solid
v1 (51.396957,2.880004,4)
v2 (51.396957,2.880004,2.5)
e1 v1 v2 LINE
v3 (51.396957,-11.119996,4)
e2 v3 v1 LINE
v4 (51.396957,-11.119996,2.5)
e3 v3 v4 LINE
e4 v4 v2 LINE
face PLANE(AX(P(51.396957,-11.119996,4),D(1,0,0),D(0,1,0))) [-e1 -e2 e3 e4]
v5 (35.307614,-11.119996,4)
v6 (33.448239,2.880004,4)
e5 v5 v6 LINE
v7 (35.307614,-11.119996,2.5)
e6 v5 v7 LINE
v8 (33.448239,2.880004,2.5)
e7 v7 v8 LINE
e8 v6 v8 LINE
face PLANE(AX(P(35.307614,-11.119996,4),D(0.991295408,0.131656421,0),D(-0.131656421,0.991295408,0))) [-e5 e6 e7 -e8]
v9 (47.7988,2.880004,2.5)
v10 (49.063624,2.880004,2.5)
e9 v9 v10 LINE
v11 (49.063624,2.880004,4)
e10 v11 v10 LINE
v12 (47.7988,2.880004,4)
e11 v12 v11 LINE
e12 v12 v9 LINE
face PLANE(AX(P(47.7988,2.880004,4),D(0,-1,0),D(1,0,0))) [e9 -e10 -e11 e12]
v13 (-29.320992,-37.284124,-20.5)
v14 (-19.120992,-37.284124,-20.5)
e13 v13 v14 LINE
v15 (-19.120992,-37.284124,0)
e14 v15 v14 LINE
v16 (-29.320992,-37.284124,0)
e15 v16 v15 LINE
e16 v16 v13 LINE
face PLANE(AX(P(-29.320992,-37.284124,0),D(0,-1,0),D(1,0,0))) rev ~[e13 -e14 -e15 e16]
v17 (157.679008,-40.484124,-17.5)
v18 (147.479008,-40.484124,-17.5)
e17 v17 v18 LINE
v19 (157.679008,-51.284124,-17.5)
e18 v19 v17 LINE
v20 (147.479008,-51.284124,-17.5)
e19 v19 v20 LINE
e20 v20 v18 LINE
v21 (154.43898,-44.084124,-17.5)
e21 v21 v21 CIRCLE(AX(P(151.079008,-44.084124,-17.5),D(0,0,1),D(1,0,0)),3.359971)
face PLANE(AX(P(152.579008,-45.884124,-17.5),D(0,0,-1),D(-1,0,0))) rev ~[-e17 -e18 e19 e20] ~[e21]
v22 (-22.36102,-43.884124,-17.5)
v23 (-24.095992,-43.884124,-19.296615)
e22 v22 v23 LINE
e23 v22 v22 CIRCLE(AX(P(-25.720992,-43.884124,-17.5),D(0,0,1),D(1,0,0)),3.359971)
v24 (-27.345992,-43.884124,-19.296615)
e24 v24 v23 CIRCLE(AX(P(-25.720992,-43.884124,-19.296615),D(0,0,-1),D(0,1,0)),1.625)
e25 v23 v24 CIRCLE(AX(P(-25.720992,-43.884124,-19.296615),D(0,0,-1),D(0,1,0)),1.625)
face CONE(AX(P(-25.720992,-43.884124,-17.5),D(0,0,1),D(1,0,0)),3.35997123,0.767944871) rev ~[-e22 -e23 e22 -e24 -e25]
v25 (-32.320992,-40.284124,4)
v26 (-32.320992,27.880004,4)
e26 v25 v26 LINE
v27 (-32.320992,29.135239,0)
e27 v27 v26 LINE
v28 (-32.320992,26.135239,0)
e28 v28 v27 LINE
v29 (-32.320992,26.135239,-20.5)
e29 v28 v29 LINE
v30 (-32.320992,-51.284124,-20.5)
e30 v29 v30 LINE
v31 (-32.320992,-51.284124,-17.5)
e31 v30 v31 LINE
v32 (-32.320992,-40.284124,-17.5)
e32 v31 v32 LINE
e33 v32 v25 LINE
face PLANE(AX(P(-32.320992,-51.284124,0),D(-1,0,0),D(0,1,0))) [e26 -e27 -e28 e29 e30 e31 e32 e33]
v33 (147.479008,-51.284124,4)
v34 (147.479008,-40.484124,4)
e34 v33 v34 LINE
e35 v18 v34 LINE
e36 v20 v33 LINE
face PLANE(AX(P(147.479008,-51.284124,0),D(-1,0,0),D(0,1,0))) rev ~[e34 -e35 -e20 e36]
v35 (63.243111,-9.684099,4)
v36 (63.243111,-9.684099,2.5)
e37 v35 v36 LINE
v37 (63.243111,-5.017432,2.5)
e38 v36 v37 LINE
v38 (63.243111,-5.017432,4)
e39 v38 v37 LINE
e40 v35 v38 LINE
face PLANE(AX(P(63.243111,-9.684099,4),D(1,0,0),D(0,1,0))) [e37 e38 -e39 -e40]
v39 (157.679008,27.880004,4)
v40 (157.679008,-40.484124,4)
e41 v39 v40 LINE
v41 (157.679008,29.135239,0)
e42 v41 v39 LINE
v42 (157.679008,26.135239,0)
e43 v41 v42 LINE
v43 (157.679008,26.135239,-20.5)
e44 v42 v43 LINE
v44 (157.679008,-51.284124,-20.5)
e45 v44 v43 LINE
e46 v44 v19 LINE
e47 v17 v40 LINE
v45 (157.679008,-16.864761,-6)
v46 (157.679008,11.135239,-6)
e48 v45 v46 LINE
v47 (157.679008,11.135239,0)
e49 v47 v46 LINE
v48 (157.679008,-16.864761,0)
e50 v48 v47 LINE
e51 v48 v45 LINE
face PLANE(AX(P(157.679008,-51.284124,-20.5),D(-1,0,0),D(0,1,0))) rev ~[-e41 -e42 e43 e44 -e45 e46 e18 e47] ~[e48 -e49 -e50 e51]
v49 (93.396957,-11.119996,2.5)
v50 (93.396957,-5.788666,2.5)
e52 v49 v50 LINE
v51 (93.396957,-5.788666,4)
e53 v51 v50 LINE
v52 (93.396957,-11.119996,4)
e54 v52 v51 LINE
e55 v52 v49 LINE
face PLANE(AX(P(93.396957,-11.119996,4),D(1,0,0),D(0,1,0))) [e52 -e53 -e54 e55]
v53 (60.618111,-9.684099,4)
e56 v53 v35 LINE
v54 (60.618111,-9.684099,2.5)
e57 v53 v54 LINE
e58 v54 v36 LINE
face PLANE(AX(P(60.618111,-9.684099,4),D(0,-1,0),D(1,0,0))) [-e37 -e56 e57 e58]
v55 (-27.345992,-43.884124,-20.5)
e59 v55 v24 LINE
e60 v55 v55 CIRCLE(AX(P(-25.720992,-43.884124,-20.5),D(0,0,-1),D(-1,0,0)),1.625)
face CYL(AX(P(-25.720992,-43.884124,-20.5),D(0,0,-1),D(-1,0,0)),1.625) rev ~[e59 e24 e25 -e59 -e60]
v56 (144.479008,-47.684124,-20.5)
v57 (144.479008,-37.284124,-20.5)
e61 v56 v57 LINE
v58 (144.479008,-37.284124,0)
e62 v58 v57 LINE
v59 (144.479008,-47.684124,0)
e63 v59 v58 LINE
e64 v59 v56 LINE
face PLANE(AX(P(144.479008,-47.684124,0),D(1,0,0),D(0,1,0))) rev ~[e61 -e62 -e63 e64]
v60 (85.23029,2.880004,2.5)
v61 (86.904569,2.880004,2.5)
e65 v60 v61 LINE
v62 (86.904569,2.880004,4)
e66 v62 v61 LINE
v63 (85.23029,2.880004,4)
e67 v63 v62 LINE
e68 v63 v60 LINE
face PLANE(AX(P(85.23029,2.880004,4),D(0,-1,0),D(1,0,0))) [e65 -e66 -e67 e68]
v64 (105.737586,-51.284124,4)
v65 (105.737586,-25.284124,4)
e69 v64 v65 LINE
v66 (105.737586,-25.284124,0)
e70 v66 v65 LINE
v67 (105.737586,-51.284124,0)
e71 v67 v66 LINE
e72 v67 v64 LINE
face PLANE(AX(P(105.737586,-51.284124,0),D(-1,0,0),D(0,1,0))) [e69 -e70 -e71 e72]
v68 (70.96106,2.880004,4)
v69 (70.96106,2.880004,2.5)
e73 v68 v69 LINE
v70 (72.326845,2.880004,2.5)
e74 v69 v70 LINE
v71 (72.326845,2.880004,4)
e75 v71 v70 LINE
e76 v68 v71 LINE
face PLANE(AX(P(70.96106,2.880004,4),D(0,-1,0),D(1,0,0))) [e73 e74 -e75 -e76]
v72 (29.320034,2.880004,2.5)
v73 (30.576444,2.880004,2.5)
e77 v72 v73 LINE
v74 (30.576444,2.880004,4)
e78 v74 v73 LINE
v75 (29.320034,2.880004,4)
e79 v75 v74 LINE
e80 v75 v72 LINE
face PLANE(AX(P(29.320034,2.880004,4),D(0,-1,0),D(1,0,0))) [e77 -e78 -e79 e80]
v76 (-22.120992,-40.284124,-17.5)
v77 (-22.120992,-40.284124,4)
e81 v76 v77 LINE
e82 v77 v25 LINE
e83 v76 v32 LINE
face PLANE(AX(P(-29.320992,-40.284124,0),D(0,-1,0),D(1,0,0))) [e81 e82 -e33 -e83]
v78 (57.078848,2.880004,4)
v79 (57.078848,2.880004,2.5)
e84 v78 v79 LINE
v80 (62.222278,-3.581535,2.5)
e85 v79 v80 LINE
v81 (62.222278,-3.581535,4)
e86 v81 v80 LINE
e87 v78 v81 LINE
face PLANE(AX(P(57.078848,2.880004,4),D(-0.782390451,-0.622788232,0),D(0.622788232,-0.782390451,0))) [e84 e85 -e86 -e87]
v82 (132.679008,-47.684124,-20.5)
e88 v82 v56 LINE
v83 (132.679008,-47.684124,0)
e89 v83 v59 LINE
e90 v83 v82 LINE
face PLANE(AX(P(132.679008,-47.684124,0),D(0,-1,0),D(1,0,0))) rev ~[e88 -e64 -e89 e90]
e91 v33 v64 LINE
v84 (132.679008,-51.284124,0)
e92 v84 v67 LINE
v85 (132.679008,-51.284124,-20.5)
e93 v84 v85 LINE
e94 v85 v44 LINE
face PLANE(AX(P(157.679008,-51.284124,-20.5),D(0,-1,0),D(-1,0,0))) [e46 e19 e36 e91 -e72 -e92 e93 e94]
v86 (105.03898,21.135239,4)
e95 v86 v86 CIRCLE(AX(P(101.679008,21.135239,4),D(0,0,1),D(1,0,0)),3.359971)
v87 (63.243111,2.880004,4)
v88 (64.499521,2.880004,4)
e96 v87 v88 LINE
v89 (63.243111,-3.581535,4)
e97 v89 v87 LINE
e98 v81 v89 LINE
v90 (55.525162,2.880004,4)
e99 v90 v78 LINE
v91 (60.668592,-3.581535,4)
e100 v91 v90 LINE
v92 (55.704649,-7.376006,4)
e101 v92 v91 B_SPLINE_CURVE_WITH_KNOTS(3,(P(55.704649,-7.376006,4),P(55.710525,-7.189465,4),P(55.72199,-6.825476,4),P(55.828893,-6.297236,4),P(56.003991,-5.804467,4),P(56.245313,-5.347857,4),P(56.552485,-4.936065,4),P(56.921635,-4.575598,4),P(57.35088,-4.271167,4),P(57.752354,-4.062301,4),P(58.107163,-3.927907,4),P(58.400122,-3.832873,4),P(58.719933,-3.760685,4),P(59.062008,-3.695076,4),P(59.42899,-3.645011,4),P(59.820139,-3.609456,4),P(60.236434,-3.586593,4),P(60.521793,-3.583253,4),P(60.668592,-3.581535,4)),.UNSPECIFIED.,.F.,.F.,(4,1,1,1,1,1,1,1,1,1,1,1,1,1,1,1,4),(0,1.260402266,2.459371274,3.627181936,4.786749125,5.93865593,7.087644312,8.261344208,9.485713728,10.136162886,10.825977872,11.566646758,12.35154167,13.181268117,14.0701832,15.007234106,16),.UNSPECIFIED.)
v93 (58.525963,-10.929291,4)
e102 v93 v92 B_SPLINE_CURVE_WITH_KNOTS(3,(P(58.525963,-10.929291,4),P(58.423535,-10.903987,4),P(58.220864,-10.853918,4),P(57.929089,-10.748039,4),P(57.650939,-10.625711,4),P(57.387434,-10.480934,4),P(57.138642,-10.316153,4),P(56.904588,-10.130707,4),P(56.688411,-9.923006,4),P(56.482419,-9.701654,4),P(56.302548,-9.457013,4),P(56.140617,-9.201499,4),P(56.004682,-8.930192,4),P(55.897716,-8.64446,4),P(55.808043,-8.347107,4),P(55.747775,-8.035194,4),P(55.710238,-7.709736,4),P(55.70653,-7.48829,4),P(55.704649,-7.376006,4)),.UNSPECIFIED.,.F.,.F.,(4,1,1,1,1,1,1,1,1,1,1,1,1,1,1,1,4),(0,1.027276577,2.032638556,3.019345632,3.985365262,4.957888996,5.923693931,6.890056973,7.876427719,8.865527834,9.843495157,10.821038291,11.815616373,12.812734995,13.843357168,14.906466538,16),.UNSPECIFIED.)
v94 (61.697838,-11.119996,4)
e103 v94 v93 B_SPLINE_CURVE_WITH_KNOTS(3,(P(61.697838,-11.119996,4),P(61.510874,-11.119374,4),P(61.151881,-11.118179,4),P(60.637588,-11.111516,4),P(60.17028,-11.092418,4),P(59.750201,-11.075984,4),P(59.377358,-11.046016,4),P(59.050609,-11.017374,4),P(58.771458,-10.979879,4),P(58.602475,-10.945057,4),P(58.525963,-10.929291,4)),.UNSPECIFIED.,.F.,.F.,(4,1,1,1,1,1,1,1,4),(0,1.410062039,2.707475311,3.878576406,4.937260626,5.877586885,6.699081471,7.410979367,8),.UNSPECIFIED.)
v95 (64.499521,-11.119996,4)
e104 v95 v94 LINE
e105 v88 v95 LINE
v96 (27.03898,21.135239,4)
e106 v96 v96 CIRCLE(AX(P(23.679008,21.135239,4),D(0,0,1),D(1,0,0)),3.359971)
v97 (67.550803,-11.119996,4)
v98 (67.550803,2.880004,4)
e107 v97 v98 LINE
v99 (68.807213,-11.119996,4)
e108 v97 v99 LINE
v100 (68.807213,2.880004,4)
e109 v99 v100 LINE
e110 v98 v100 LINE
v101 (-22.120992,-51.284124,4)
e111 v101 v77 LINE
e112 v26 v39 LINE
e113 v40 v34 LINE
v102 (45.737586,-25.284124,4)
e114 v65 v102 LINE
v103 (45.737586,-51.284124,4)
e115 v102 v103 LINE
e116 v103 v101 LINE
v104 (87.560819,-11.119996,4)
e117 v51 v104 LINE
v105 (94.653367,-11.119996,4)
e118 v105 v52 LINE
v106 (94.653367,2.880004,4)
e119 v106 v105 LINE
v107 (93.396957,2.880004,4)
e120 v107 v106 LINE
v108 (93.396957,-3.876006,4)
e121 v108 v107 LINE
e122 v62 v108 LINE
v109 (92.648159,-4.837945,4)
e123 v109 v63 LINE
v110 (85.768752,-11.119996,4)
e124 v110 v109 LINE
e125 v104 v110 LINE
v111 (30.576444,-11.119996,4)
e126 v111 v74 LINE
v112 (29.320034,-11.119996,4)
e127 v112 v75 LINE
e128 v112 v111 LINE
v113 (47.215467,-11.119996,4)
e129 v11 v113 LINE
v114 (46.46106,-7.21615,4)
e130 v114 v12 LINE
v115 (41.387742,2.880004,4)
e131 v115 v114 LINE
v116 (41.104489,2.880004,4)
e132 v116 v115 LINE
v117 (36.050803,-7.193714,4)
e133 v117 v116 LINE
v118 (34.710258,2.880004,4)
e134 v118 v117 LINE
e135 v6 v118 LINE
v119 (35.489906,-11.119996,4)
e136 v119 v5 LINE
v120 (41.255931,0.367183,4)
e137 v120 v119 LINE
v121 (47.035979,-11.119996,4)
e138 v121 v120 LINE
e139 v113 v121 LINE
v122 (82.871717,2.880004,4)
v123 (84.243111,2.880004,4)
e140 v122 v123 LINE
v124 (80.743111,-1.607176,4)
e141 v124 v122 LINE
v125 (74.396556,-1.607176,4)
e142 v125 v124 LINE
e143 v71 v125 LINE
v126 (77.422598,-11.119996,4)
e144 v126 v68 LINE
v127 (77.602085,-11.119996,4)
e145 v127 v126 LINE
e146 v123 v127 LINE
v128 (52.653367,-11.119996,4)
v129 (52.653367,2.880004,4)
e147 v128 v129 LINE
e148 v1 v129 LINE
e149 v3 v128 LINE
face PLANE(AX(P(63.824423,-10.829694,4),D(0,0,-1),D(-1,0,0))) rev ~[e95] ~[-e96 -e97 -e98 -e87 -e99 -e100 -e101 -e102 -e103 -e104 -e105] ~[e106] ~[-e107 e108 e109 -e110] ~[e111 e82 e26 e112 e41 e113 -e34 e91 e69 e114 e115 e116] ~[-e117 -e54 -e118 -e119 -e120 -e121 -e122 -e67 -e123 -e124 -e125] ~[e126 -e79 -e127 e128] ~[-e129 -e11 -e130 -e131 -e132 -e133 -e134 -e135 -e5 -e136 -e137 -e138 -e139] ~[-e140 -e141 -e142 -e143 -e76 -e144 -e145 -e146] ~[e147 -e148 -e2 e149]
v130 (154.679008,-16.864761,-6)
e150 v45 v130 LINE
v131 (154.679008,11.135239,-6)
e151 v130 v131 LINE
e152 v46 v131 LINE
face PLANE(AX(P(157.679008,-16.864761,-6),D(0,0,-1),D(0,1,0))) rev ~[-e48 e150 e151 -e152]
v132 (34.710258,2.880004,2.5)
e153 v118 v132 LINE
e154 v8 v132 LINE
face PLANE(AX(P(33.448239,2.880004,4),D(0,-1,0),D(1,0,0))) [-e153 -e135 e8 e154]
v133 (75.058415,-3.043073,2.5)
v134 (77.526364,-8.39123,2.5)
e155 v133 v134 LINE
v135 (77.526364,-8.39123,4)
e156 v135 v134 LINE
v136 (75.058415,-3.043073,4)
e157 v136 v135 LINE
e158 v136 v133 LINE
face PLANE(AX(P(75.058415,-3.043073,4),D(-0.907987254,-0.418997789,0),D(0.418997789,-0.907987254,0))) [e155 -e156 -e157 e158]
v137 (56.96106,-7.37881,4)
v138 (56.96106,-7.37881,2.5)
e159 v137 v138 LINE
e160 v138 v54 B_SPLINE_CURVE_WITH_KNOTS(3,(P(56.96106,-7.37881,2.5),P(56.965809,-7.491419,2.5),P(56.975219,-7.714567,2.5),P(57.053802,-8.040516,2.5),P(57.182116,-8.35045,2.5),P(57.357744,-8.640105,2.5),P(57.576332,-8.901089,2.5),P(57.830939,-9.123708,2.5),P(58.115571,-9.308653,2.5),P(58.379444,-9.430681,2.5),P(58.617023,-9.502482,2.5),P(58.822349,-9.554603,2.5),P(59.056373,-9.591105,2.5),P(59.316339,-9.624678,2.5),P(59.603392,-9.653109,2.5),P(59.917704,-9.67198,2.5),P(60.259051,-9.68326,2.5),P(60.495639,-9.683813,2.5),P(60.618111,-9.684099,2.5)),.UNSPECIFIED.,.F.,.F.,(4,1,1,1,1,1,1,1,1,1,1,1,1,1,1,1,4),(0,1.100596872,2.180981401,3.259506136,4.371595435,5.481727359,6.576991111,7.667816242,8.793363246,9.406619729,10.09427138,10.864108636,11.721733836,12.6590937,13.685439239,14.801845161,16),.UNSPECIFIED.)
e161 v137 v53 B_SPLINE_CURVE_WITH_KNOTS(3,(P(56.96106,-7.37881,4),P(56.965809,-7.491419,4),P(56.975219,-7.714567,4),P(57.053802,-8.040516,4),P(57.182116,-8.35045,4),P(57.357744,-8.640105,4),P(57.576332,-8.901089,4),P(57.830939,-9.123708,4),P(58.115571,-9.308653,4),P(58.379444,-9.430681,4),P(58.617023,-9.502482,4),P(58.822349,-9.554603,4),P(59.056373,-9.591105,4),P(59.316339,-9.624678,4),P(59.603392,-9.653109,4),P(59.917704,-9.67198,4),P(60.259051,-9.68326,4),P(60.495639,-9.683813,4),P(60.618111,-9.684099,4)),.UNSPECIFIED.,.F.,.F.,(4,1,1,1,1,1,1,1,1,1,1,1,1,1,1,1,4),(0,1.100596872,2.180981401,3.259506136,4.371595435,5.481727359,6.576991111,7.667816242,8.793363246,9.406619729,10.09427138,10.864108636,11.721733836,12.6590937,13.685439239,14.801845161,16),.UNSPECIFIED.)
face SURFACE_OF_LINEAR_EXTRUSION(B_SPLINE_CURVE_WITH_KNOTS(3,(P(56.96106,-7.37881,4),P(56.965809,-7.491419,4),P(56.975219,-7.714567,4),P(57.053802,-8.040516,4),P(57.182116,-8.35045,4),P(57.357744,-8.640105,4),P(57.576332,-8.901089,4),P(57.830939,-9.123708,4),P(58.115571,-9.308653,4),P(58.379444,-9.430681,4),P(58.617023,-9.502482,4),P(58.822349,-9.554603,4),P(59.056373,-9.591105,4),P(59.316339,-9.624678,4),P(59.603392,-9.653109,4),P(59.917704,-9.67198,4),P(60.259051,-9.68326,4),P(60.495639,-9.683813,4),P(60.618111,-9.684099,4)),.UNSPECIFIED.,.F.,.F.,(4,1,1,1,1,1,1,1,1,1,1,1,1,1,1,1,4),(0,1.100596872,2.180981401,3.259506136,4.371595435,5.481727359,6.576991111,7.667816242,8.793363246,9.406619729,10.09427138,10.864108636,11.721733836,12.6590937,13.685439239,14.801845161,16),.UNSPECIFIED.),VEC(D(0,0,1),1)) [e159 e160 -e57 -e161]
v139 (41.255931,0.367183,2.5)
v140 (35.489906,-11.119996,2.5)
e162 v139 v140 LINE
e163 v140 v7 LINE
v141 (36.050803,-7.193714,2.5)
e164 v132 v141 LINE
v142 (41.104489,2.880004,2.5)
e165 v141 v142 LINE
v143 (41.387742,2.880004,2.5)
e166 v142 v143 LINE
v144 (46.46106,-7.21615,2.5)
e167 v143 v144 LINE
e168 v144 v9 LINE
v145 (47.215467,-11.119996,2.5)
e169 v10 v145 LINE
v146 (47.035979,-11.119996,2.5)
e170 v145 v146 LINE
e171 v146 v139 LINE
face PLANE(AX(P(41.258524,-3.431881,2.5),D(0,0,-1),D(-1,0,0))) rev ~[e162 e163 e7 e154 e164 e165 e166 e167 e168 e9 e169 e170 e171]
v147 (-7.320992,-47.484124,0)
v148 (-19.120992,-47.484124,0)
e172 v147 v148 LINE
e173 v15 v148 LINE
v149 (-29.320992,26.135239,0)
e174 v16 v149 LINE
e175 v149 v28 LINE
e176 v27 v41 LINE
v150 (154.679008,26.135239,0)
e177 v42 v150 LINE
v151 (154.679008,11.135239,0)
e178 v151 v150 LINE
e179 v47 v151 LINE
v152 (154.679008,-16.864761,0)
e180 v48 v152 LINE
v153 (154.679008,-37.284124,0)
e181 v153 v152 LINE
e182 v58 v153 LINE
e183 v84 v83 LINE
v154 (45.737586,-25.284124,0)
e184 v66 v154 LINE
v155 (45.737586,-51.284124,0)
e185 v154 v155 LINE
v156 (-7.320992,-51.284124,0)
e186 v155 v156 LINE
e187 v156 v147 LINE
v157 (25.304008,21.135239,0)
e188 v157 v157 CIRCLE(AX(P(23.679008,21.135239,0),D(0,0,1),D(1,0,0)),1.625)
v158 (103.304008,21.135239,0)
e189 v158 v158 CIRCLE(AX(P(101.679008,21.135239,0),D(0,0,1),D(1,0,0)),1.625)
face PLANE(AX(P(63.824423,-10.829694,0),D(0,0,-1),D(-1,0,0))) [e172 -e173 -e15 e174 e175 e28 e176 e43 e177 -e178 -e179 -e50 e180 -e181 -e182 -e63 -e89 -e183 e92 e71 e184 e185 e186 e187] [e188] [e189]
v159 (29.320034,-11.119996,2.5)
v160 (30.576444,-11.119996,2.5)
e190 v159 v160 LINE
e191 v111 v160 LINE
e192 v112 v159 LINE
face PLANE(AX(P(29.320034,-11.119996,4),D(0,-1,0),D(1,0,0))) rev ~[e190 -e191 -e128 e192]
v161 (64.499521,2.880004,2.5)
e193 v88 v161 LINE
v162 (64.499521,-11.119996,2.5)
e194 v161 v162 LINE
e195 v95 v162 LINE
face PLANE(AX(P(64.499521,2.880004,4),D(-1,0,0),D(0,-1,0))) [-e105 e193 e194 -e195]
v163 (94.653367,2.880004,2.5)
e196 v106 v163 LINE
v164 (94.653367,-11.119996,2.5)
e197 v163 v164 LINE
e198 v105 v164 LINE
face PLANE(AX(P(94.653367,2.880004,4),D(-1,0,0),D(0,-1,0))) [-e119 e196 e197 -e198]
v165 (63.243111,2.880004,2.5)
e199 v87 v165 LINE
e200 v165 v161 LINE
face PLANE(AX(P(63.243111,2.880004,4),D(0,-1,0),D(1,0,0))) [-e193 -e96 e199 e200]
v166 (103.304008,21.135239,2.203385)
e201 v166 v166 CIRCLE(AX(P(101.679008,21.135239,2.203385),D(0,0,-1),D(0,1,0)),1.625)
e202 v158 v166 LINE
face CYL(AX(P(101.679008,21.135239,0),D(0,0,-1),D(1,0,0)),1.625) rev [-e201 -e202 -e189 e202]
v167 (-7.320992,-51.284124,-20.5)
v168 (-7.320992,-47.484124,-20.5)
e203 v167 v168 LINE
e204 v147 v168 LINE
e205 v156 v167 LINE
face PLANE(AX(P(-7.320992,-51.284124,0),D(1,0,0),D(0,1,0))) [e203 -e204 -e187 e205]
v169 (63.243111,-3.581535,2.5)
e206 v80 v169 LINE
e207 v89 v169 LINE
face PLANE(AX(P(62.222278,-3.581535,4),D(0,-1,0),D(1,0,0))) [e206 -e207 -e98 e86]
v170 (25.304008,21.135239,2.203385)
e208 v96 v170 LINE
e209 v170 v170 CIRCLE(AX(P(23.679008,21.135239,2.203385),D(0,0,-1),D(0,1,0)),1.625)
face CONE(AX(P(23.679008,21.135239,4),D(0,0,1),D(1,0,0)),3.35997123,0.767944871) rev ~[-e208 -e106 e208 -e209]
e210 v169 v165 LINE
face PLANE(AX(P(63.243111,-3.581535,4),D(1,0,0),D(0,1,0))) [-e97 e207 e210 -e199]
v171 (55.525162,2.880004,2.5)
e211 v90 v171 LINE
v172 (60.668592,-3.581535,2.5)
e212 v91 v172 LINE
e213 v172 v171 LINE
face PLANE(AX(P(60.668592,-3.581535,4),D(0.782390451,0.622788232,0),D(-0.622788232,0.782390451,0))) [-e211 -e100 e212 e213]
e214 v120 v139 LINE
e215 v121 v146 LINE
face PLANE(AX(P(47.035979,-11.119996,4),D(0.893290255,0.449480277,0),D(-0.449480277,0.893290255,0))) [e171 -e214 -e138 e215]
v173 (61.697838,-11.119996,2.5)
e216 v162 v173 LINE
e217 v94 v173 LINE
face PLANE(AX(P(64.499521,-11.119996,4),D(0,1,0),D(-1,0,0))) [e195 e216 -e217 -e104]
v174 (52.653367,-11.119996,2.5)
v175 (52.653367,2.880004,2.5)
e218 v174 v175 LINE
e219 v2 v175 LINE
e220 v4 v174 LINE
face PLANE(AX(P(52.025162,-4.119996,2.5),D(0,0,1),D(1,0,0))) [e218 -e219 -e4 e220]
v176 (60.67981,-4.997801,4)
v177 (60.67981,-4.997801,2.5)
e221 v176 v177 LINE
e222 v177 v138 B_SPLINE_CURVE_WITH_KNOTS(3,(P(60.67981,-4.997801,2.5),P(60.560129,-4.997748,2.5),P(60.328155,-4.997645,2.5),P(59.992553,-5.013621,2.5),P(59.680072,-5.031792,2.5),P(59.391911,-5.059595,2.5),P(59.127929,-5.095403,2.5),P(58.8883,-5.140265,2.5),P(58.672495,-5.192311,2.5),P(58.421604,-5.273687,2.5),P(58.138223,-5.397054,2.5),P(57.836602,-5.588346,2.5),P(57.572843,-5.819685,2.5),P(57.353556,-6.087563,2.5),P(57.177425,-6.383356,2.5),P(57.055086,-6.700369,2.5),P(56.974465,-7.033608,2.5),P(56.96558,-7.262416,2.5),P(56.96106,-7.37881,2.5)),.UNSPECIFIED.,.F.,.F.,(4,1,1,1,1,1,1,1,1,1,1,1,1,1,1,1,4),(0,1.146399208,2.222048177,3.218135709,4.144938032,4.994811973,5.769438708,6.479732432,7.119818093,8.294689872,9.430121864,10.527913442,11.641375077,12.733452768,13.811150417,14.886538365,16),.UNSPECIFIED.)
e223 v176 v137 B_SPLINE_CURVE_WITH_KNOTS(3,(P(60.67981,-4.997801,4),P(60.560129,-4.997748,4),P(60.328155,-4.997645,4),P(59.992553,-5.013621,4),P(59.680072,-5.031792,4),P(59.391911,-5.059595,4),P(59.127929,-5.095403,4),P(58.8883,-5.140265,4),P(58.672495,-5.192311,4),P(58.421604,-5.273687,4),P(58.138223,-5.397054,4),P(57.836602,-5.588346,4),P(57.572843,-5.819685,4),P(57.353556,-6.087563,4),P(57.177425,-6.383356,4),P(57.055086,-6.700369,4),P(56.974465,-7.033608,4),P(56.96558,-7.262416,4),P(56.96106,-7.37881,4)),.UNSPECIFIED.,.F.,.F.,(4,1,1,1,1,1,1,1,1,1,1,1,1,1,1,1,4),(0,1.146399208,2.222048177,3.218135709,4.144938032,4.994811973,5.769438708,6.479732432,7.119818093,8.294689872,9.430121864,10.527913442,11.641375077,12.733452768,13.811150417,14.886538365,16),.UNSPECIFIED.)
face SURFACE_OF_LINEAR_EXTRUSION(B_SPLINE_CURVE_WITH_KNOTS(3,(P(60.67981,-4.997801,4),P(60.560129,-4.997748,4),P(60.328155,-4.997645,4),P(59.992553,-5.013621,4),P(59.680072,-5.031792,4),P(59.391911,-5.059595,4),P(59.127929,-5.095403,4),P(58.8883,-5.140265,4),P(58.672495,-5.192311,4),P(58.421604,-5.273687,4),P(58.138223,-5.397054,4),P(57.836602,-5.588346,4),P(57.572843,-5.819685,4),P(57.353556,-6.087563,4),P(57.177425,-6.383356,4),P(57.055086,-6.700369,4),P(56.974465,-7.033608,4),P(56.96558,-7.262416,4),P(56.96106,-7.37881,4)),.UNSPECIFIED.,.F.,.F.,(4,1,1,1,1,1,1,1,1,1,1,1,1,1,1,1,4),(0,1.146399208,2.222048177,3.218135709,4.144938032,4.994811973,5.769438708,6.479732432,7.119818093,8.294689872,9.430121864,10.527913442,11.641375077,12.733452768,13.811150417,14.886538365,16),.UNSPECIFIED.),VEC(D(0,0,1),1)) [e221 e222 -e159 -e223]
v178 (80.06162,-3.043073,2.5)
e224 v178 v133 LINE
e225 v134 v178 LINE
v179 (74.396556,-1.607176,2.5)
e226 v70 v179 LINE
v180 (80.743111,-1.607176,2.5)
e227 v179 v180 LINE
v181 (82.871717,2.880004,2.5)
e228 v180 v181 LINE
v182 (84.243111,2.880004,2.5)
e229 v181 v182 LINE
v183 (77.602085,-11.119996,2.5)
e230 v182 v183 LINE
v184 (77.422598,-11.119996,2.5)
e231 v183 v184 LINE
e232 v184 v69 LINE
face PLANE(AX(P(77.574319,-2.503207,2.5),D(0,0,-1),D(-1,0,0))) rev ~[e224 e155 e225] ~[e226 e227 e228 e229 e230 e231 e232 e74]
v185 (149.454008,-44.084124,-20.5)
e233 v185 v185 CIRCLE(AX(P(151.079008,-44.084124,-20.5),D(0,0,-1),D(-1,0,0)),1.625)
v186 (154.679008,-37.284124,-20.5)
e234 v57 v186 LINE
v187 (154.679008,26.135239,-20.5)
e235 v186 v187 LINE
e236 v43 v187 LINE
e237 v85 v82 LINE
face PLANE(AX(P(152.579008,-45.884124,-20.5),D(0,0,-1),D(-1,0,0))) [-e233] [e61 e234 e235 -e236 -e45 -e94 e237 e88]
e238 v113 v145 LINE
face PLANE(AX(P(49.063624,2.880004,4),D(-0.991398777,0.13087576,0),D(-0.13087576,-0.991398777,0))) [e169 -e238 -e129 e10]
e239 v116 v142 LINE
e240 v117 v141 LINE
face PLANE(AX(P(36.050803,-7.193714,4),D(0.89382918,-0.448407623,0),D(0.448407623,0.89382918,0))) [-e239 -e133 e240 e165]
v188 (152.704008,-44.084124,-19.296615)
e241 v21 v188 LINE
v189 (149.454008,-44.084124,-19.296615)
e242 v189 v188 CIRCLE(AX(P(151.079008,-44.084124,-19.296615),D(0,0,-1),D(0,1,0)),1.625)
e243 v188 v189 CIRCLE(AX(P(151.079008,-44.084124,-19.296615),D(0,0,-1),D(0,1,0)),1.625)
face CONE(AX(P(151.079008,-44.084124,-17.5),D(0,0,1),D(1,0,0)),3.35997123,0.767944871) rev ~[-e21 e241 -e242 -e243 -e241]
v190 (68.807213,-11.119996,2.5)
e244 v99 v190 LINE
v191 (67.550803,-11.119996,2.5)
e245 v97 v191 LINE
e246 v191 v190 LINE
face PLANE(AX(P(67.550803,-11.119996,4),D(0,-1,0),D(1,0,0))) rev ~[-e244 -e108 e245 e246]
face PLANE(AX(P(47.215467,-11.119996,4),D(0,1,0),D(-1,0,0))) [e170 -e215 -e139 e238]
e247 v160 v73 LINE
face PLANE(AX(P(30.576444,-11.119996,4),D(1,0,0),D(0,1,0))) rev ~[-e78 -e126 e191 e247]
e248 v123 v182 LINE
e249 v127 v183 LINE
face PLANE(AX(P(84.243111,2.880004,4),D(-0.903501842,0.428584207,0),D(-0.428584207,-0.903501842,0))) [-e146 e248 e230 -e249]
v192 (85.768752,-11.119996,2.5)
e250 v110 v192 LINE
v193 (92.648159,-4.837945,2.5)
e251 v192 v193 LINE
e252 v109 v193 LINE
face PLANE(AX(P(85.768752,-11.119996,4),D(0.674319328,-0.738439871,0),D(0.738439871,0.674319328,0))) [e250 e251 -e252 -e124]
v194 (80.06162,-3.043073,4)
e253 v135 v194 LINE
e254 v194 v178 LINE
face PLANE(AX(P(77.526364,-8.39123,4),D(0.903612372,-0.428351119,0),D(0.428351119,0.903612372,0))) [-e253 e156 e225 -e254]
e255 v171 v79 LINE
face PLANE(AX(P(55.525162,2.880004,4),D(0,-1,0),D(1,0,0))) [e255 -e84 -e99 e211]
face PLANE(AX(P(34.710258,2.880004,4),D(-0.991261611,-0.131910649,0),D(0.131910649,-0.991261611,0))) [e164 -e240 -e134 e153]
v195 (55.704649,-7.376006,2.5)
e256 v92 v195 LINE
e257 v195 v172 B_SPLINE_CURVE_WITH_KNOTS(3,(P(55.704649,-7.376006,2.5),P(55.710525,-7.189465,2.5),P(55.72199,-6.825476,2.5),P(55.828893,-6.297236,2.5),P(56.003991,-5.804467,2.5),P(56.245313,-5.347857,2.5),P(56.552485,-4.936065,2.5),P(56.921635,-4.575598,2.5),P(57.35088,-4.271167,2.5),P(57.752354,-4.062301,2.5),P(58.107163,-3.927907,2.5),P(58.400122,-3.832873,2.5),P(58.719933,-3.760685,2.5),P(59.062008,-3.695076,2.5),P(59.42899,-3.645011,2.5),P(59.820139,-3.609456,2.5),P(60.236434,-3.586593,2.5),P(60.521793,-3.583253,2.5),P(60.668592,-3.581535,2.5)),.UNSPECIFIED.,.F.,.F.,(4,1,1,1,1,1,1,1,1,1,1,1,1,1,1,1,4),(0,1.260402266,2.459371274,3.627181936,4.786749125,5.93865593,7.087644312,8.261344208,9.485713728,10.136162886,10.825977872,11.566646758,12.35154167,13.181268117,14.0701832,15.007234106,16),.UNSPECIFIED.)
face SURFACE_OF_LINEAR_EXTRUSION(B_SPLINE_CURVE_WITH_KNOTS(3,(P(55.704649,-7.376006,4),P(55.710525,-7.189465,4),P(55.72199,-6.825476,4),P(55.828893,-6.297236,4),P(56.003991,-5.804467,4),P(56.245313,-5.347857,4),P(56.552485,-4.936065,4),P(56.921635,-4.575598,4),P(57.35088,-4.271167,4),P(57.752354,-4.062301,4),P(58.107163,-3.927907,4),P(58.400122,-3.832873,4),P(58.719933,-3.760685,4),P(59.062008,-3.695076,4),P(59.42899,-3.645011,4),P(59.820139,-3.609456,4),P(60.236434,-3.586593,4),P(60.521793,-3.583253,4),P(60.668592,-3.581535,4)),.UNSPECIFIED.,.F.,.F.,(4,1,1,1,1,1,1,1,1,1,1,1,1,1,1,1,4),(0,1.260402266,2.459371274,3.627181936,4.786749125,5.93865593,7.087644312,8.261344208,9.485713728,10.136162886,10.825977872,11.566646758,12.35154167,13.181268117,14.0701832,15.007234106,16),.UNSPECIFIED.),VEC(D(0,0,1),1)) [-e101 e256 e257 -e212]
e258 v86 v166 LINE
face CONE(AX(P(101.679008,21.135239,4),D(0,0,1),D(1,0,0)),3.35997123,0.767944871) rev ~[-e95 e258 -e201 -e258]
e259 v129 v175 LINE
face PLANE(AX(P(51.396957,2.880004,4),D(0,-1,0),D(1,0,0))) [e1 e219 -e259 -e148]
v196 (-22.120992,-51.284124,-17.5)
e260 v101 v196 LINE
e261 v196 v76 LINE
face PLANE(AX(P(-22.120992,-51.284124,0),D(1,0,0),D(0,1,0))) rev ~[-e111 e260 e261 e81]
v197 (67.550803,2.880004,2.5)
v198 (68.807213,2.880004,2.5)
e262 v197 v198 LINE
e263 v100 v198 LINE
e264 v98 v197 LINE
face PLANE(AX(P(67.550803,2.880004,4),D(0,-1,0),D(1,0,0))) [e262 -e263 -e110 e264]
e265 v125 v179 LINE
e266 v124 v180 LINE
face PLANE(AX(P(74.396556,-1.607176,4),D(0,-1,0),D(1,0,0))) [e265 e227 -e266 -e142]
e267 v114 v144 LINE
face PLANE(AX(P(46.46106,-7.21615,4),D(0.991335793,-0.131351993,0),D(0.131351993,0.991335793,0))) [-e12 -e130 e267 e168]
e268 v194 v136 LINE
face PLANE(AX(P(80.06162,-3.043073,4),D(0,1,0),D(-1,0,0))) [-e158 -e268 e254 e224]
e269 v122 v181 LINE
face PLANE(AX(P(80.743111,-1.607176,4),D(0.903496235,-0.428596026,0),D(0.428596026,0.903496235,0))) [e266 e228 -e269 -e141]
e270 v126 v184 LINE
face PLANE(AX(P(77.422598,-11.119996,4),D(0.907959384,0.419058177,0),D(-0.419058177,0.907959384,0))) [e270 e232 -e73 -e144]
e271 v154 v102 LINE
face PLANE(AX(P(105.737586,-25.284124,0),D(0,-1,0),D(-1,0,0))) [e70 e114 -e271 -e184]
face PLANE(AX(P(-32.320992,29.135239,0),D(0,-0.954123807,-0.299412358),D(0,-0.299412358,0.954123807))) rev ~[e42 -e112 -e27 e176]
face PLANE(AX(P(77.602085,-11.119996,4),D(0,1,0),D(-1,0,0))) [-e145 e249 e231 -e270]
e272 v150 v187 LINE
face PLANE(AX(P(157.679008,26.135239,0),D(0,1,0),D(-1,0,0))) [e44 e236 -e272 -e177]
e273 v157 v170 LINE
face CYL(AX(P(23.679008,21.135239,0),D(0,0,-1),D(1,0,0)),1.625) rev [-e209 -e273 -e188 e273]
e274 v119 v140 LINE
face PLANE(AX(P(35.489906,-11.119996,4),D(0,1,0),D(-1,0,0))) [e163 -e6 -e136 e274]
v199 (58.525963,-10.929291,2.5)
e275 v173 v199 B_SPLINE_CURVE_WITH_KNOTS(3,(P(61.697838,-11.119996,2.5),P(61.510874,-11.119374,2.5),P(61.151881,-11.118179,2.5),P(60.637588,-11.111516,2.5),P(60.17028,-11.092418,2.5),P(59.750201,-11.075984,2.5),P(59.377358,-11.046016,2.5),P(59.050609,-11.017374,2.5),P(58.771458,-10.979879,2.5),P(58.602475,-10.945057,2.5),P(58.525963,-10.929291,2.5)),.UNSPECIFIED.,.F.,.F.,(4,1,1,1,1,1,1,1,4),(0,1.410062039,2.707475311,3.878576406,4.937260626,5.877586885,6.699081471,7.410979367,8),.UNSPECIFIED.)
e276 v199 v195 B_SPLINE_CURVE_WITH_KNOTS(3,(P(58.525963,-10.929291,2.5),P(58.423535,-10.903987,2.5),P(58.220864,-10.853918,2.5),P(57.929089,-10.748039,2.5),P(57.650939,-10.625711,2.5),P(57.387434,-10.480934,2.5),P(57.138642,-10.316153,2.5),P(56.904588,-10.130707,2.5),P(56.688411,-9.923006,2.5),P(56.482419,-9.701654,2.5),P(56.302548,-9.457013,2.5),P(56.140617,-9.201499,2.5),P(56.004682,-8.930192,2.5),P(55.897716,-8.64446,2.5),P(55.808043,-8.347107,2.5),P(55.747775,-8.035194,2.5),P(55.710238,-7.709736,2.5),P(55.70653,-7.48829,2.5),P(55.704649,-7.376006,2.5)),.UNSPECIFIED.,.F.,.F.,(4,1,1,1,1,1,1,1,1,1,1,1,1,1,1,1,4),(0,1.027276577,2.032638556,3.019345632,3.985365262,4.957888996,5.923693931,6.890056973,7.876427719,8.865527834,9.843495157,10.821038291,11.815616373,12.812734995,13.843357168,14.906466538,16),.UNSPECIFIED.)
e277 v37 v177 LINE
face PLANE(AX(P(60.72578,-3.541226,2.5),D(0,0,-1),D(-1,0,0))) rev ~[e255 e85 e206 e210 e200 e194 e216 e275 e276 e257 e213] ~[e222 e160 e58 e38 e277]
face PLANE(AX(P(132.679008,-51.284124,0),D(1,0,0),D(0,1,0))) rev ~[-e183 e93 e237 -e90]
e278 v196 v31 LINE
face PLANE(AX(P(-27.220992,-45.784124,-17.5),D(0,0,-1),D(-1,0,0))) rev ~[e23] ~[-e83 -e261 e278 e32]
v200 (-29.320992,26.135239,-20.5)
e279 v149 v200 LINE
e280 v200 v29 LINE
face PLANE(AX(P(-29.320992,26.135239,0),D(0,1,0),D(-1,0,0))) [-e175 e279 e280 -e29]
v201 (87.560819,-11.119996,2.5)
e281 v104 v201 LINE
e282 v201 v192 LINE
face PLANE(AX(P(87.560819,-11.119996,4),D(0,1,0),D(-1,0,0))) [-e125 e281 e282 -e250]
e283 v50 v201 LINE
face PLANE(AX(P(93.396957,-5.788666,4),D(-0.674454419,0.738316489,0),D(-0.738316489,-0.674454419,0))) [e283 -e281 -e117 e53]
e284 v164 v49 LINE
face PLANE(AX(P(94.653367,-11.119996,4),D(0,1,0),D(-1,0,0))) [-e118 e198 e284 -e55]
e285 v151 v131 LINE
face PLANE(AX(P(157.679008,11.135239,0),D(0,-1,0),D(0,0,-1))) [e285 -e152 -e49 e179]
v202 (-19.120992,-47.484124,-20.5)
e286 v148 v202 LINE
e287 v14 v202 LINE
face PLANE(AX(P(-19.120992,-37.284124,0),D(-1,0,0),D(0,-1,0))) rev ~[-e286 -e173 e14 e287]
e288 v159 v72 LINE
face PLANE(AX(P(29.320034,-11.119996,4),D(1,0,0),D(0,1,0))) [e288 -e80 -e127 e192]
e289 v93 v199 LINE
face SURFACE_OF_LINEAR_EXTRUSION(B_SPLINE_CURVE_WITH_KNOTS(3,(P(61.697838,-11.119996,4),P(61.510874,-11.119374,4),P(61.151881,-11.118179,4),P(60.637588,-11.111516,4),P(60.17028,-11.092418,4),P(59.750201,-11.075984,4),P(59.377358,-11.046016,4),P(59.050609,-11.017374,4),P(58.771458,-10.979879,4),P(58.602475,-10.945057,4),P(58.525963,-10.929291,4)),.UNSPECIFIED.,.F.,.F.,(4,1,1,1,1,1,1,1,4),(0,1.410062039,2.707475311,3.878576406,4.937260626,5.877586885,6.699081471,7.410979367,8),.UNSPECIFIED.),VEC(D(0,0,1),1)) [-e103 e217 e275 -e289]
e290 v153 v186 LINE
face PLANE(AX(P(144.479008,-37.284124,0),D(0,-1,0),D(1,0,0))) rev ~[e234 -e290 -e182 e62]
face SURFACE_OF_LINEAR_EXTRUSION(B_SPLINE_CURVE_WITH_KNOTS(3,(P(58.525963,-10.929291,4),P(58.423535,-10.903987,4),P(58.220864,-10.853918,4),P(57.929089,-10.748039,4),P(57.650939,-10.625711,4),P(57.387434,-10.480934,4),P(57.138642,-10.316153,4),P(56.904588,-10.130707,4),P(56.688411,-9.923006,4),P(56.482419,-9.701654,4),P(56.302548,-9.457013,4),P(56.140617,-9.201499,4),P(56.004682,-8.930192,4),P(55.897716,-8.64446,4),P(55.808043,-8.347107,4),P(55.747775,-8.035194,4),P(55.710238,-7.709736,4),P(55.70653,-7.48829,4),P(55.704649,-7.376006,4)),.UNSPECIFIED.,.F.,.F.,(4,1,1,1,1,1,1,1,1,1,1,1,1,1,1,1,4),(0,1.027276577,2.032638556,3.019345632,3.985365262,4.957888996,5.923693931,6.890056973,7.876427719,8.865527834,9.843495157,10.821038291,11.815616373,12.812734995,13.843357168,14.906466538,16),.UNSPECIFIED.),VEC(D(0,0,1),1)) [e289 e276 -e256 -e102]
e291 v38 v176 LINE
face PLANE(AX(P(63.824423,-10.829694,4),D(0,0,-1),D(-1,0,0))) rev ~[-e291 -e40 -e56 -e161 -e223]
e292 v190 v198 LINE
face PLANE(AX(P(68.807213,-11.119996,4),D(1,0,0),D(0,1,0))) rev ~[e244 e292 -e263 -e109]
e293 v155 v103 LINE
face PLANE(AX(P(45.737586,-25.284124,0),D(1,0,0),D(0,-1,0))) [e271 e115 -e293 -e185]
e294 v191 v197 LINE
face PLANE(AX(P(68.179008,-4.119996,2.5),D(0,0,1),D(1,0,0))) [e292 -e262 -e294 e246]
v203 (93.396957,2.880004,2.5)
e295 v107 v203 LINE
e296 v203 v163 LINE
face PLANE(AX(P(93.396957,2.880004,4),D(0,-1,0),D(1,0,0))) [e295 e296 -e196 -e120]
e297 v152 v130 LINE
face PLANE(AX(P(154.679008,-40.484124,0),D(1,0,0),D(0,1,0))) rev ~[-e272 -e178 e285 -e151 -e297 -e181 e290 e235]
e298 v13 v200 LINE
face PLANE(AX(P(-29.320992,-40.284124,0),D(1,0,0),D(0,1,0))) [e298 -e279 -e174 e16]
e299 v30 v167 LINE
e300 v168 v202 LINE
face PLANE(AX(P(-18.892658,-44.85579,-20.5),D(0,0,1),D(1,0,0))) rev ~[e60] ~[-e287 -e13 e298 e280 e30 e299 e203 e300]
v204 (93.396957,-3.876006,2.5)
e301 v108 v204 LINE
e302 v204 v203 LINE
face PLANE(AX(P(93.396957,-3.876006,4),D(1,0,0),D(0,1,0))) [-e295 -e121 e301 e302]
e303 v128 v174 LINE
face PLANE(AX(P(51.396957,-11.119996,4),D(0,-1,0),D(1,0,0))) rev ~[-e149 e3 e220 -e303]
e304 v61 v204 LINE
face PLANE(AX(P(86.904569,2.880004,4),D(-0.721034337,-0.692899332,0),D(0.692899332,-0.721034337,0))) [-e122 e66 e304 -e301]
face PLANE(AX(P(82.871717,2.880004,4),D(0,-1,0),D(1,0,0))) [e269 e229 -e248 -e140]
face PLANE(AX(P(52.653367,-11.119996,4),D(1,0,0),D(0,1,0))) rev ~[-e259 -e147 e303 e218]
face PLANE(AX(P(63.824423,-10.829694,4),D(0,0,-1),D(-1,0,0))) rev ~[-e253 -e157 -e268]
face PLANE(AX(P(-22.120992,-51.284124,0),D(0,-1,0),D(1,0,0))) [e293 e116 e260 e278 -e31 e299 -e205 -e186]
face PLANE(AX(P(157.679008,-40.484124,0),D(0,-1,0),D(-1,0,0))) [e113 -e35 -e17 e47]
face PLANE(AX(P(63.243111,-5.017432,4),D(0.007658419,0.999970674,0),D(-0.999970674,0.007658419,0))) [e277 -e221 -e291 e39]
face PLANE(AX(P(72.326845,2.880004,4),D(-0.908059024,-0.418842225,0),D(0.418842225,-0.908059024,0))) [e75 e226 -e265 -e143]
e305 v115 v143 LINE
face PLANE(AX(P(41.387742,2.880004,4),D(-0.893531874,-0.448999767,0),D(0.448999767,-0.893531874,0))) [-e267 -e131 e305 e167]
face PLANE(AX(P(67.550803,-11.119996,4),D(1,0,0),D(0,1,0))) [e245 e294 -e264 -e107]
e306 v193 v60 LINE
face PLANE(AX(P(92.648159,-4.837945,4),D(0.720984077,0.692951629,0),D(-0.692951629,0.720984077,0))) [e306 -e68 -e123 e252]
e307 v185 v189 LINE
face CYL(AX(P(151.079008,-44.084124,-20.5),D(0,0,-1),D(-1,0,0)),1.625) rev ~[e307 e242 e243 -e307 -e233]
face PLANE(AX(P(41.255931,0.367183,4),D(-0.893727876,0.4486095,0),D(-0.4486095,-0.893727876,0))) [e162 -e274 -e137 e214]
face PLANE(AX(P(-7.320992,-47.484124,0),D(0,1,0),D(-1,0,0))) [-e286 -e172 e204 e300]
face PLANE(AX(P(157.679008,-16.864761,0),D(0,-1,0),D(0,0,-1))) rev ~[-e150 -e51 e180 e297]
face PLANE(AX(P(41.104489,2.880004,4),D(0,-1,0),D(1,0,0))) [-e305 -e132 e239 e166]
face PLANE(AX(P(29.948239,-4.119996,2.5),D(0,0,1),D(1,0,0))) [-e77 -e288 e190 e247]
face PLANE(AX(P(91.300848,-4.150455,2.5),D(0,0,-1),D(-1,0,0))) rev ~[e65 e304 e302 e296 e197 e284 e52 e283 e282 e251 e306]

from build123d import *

# Parameters (mm, degrees)
CROQUIS1_R                      = 1.625
SALIENTE_EXTRUIR1_DEPTH         = 4
CORTAR_EXTRUIR1_START           = -190
CORTAR_EXTRUIR1_DEPTH           = 190
CROQUIS4_R                      = 3.35997123
CORTAR_EXTRUIR2_DEPTH           = 1.8
CORTAR_EXTRUIR2_DRAFT           = -44
CORTAR_EXTRUIR2_PROFILE_2_DEPTH = 1.8
CORTAR_EXTRUIR2_PROFILE_2_DRAFT = -44
CORTAR_EXTRUIR2_PROFILE_3_DEPTH = 1.8
CORTAR_EXTRUIR2_PROFILE_3_DRAFT = -44
CORTAR_EXTRUIR2_PROFILE_4_DEPTH = 1.8
CORTAR_EXTRUIR2_PROFILE_4_DRAFT = -44
CROQUIS5_W                      = 3
CROQUIS5_H                      = 66.6193621
CROQUIS5_H_2                    = 66.4193621
SALIENTE_EXTRUIR2_DEPTH         = 20.5
CROQUIS7_W                      = 10.2
CROQUIS7_H                      = 10.8
CROQUIS7_H_2                    = 11
CORTAR_EXTRUIR3_DEPTH           = 4
SALIENTE_EXTRUIR3_DEPTH         = 20.5
CROQUIS9_W                      = 10.2
CROQUIS9_H                      = 10.8
CROQUIS9_R                      = 1.625
CROQUIS9_H_2                    = 11
SALIENTE_EXTRUIR4_DEPTH         = 3
CROQUIS10_R                     = 3.35997123
CORTAR_EXTRUIR4_DEPTH           = 1.8
CORTAR_EXTRUIR4_DRAFT           = -44
CORTAR_EXTRUIR4_PROFILE_2_DEPTH = 1.8
CORTAR_EXTRUIR4_PROFILE_2_DRAFT = -44
CROQUIS11_W                     = 6
CROQUIS11_H                     = 28
CORTAR_EXTRUIR5_DEPTH           = 3
CROQUIS13_W                     = 1.256410257
CROQUIS13_H                     = 14
CROQUIS13_W_2                   = 1.256410256
CORTAR_EXTRUIR6_DEPTH           = 1.5


with BuildPart() as part:
    # Croquis1 → Saliente-Extruir1 (new body)
    with BuildSketch(Plane.XY):
        Polygon((-32.320991683, -51.284123552), (-32.320991683, 29.135238548), (157.679008317, 29.135238548), (157.679008317, -51.284123552), (105.737585684, -51.284123552), (105.737585684, -25.284123552), (45.737585684, -25.284123552), (45.737585684, -51.284123552), align=None)
        with Locations((23.679008317, 21.135238548)):
            Circle(CROQUIS1_R, mode=Mode.SUBTRACT)
        with Locations((101.679008317, 21.135238548)):
            Circle(CROQUIS1_R, mode=Mode.SUBTRACT)
        with Locations((-25.720991683, -43.884123552)):
            Circle(CROQUIS1_R, mode=Mode.SUBTRACT)
        with Locations((151.079008317, -44.084123552)):
            Circle(CROQUIS1_R, mode=Mode.SUBTRACT)
    extrude(amount=SALIENTE_EXTRUIR1_DEPTH)

    # Croquis3 → Cortar-Extruir1 (cut)
    with BuildSketch(Plane(origin=(157.679008317, 0, 0), x_dir=(0, 0, -1), z_dir=(1, 0, 0)).offset(CORTAR_EXTRUIR1_START)):
        Polygon((-4, 29.135238548), (0, 29.135238548), (-4, 27.880003721), align=None)
    extrude(amount=CORTAR_EXTRUIR1_DEPTH, mode=Mode.SUBTRACT)


with BuildPart() as cortar_extruir2_tool:
    # Croquis4 → Cortar-Extruir2 (with draft: the straight prism first)
    with BuildSketch(Plane.XY.offset(4)):
        with Locations((23.679008317, 21.135238548)):
            Circle(CROQUIS4_R)
    extrude(amount=-CORTAR_EXTRUIR2_DEPTH)
    # Cortar-Extruir2: the draft: its side faces are tilted about the plane it starts from
    cortar_extruir2_sides = [cortar_extruir2_tool.faces().sort_by_distance(p)[0] for p in [
        (20.319037087, 21.135238548, 3.1),
    ]]
    draft(cortar_extruir2_sides, Plane.XY.offset(4), CORTAR_EXTRUIR2_DRAFT)


with BuildPart() as part_1:
    add(part.part)

    # Cortar-Extruir2: cut by cortar_extruir2_tool
    add(cortar_extruir2_tool.part, mode=Mode.SUBTRACT)


with BuildPart() as cortar_extruir2_profile_2_tool:
    # Croquis4 → Cortar-Extruir2 profile 2 (with draft: the straight prism first)
    with BuildSketch(Plane.XY.offset(4)):
        with Locations((101.679008317, 21.135238548)):
            Circle(CROQUIS4_R)
    extrude(amount=-CORTAR_EXTRUIR2_PROFILE_2_DEPTH)
    # Cortar-Extruir2 profile 2: the draft: its side faces are tilted about the plane it starts from
    cortar_extruir2_profile_2_sides = [cortar_extruir2_profile_2_tool.faces().sort_by_distance(p)[0] for p in [
        (98.319037087, 21.135238548, 3.1),
    ]]
    draft(cortar_extruir2_profile_2_sides, Plane.XY.offset(4), CORTAR_EXTRUIR2_PROFILE_2_DRAFT)


with BuildPart() as part_2:
    add(part_1.part)

    # Cortar-Extruir2 profile 2: cut by cortar_extruir2_profile_2_tool
    add(cortar_extruir2_profile_2_tool.part, mode=Mode.SUBTRACT)


with BuildPart() as cortar_extruir2_profile_3_tool:
    # Croquis4 → Cortar-Extruir2 profile 3 (with draft: the straight prism first)
    with BuildSketch(Plane.XY.offset(4)):
        with Locations((-25.720991683, -43.884123552)):
            Circle(CROQUIS4_R)
    extrude(amount=-CORTAR_EXTRUIR2_PROFILE_3_DEPTH)
    # Cortar-Extruir2 profile 3: the draft: its side faces are tilted about the plane it starts from
    cortar_extruir2_profile_3_sides = [cortar_extruir2_profile_3_tool.faces().sort_by_distance(p)[0] for p in [
        (-29.080962913, -43.884123552, 3.1),
    ]]
    draft(cortar_extruir2_profile_3_sides, Plane.XY.offset(4), CORTAR_EXTRUIR2_PROFILE_3_DRAFT)


with BuildPart() as part_3:
    add(part_2.part)

    # Cortar-Extruir2 profile 3: cut by cortar_extruir2_profile_3_tool
    add(cortar_extruir2_profile_3_tool.part, mode=Mode.SUBTRACT)


with BuildPart() as cortar_extruir2_profile_4_tool:
    # Croquis4 → Cortar-Extruir2 profile 4 (with draft: the straight prism first)
    with BuildSketch(Plane.XY.offset(4)):
        with Locations((151.079008317, -44.084123552)):
            Circle(CROQUIS4_R)
    extrude(amount=-CORTAR_EXTRUIR2_PROFILE_4_DEPTH)
    # Cortar-Extruir2 profile 4: the draft: its side faces are tilted about the plane it starts from
    cortar_extruir2_profile_4_sides = [cortar_extruir2_profile_4_tool.faces().sort_by_distance(p)[0] for p in [
        (147.719037087, -44.084123552, 3.1),
    ]]
    draft(cortar_extruir2_profile_4_sides, Plane.XY.offset(4), CORTAR_EXTRUIR2_PROFILE_4_DRAFT)


with BuildPart() as part_4:
    add(part_3.part)

    # Cortar-Extruir2 profile 4: cut by cortar_extruir2_profile_4_tool
    add(cortar_extruir2_profile_4_tool.part, mode=Mode.SUBTRACT)

    # Croquis5 → Saliente-Extruir2 (add)
    with BuildSketch(Plane(origin=(0, 0, 0), x_dir=(-1, 0, 0), z_dir=(0, 0, -1))):
        with Locations((-156.179008317, -7.174442502)):
            Rectangle(CROQUIS5_W, CROQUIS5_H)
        with Locations((30.820991683, -7.074442502)):
            Rectangle(CROQUIS5_W, CROQUIS5_H_2)
    extrude(amount=SALIENTE_EXTRUIR2_DEPTH)

    # Croquis7 → Cortar-Extruir3 (cut)
    with BuildSketch(Plane(origin=(0, 0, 0), x_dir=(-1, 0, 0), z_dir=(0, 0, -1))):
        with Locations((-152.579008317, -45.884123552)):
            Rectangle(CROQUIS7_W, CROQUIS7_H)
        with Locations((27.220991683, -45.784123552)):
            Rectangle(CROQUIS7_W, CROQUIS7_H_2)
    extrude(amount=-CORTAR_EXTRUIR3_DEPTH, mode=Mode.SUBTRACT)

    # Croquis8 → Saliente-Extruir3 (add)
    with BuildSketch(Plane(origin=(0, 0, 0), x_dir=(-1, 0, 0), z_dir=(0, 0, -1))):
        Polygon((7.320991683, -47.484123552), (19.120991683, -47.484123552), (19.120991683, -40.284123552), (19.120991683, -37.284123552), (22.120991683, -37.284123552), (29.320991683, -37.284123552), (29.320991683, -40.284123552), (22.120991683, -40.284123552), (22.120991683, -47.484123552), (22.120991683, -51.284123552), (7.320991683, -51.284123552), align=None)
        Polygon((-132.679008317, -47.684123552), (-144.479008317, -47.684123552), (-144.479008317, -40.484123552), (-144.479008317, -37.284123552), (-154.679008317, -37.284123552), (-154.679008317, -40.484123552), (-147.479008317, -40.484123552), (-147.479008317, -47.684123552), (-147.479008317, -51.284123552), (-132.679008317, -51.284123552), align=None)
    extrude(amount=SALIENTE_EXTRUIR3_DEPTH)

    # Croquis9 → Saliente-Extruir4 (add)
    # profile 1 of 2: a face of its own
    with BuildSketch(Plane(origin=(0, 0, -20.5), x_dir=(-1, 0, 0), z_dir=(0, 0, -1))):
        with Locations((-152.579008317, -45.884123552)):
            Rectangle(CROQUIS9_W, CROQUIS9_H)
        with Locations((-151.079008317, -44.084123552)):
            Circle(CROQUIS9_R, mode=Mode.SUBTRACT)
    # profile 2 of 2: a face of its own
    with BuildSketch(Plane(origin=(0, 0, -20.5), x_dir=(-1, 0, 0), z_dir=(0, 0, -1))):
        with Locations((27.220991683, -45.784123552)):
            Rectangle(CROQUIS9_W, CROQUIS9_H_2)
        with Locations((25.720991683, -43.884123552)):
            Circle(CROQUIS9_R, mode=Mode.SUBTRACT)
    extrude(amount=-SALIENTE_EXTRUIR4_DEPTH)


with BuildPart() as cortar_extruir4_tool:
    # Croquis10 → Cortar-Extruir4 (with draft: the straight prism first)
    with BuildSketch(Plane.XY.offset(-17.5)):
        with Locations((-25.720991683, -43.884123552)):
            Circle(CROQUIS10_R)
    extrude(amount=-CORTAR_EXTRUIR4_DEPTH)
    # Cortar-Extruir4: the draft: its side faces are tilted about the plane it starts from
    cortar_extruir4_sides = [cortar_extruir4_tool.faces().sort_by_distance(p)[0] for p in [
        (-29.080962913, -43.884123552, -18.4),
    ]]
    draft(cortar_extruir4_sides, Plane.XY.offset(-17.5), CORTAR_EXTRUIR4_DRAFT)


with BuildPart() as part_5:
    add(part_4.part)

    # Cortar-Extruir4: cut by cortar_extruir4_tool
    add(cortar_extruir4_tool.part, mode=Mode.SUBTRACT)


with BuildPart() as cortar_extruir4_profile_2_tool:
    # Croquis10 → Cortar-Extruir4 profile 2 (with draft: the straight prism first)
    with BuildSketch(Plane.XY.offset(-17.5)):
        with Locations((151.079008317, -44.084123552)):
            Circle(CROQUIS10_R)
    extrude(amount=-CORTAR_EXTRUIR4_PROFILE_2_DEPTH)
    # Cortar-Extruir4 profile 2: the draft: its side faces are tilted about the plane it starts from
    cortar_extruir4_profile_2_sides = [cortar_extruir4_profile_2_tool.faces().sort_by_distance(p)[0] for p in [
        (147.719037087, -44.084123552, -18.4),
    ]]
    draft(cortar_extruir4_profile_2_sides, Plane.XY.offset(-17.5), CORTAR_EXTRUIR4_PROFILE_2_DRAFT)


with BuildPart() as part_6:
    add(part_5.part)

    # Cortar-Extruir4 profile 2: cut by cortar_extruir4_profile_2_tool
    add(cortar_extruir4_profile_2_tool.part, mode=Mode.SUBTRACT)

    # Croquis11 → Cortar-Extruir5 (cut)
    with BuildSketch(Plane(origin=(157.679008317, 0, 0), x_dir=(0, 0, -1), z_dir=(1, 0, 0))):
        with Locations((3, -2.864761452)):
            Rectangle(CROQUIS11_W, CROQUIS11_H)
    extrude(amount=-CORTAR_EXTRUIR5_DEPTH, mode=Mode.SUBTRACT)

    # Croquis13 → Cortar-Extruir6 (cut)
    # profile 1 of 7: a face of its own
    with BuildSketch(Plane.XY.offset(4)):
        with Locations((29.948239087, -4.119996279)):
            Rectangle(CROQUIS13_W, CROQUIS13_H)
    # profile 2 of 7: a face of its own
    with BuildSketch(Plane.XY.offset(4)):
        Polygon((49.063623702, 2.880003721), (47.215466651, -11.119996279), (47.035979471, -11.119996279), (41.255931394, 0.367183208), (35.489905753, -11.119996279), (35.307614086, -11.119996279), (33.448239086, 2.880003721), (34.710258317, 2.880003721), (36.050803189, -7.193714227), (41.104489086, 2.880003721), (41.387742292, 2.880003721), (46.461059599, -7.216150125), (47.798799984, 2.880003721), align=None)
    # profile 3 of 7: a face of its own
    with BuildSketch(Plane.XY.offset(4)):
        with Locations((52.025162163, -4.119996279)):
            Rectangle(CROQUIS13_W, CROQUIS13_H)
    # profile 4 of 7: a face of its own
    with BuildSketch(Plane.XY.offset(4)):
        with BuildLine():
            Line((64.499521138, -11.119996279), (61.697838445, -11.119996279))
            add(Edge.make_bspline(
                [(61.697838445, -11.119996279), (61.510873931, -11.119373935), (61.151881354, -11.118178965), (60.637588272, -11.111515914), (60.170279884, -11.092418491), (59.750200527, -11.075984157), (59.377357907, -11.046016392), (59.050608744, -11.017373803), (58.771457954, -10.97987916), (58.602474549, -10.945057468), (58.525963445, -10.929291151)],
                knots=[0, 0, 0, 0, 1.410062039, 2.707475311, 3.878576406, 4.937260626, 5.877586885, 6.699081471, 7.410979367, 8, 8, 8, 8], degree=3))
            add(Edge.make_bspline(
                [(58.525963445, -10.929291151), (58.423535224, -10.903986891), (58.220863854, -10.853918181), (57.92908861, -10.748039124), (57.650939007, -10.625710612), (57.387433636, -10.48093382), (57.138641547, -10.316153486), (56.904587805, -10.130707187), (56.688410611, -9.923006028), (56.482418712, -9.701653806), (56.302548437, -9.457013121), (56.140617473, -9.201498836), (56.004681977, -8.930191666), (55.897715912, -8.644460022), (55.808043127, -8.347106788), (55.747774644, -8.035193709), (55.710238379, -7.709735592), (55.706529794, -7.488290447), (55.704649343, -7.376005894)],
                knots=[0, 0, 0, 0, 1.027276577, 2.032638556, 3.019345632, 3.985365262, 4.957888996, 5.923693931, 6.890056973, 7.876427719, 8.865527834, 9.843495157, 10.821038291, 11.815616373, 12.812734995, 13.843357168, 14.906466538, 16, 16, 16, 16], degree=3))
            add(Edge.make_bspline(
                [(55.704649343, -7.376005894), (55.710525183, -7.189465261), (55.721990468, -6.825476171), (55.828893013, -6.297235643), (56.003991303, -5.80446742), (56.245313156, -5.347857264), (56.552484852, -4.936065183), (56.92163538, -4.575598095), (57.350879516, -4.271167216), (57.752353734, -4.062300802), (58.10716327, -3.927907198), (58.40012195, -3.832872669), (58.719933006, -3.760684762), (59.062008263, -3.695076041), (59.428989945, -3.645011316), (59.82013904, -3.609455846), (60.236433836, -3.586593409), (60.521792882, -3.583253109), (60.668591651, -3.58153474)],
                knots=[0, 0, 0, 0, 1.260402266, 2.459371274, 3.627181936, 4.786749125, 5.93865593, 7.087644312, 8.261344208, 9.485713728, 10.136162886, 10.825977872, 11.566646758, 12.35154167, 13.181268117, 14.0701832, 15.007234106, 16, 16, 16, 16], degree=3))
            Line((60.668591651, -3.58153474), (55.525162163, 2.880003721))
            Line((55.525162163, 2.880003721), (57.078848061, 2.880003721))
            Line((57.078848061, 2.880003721), (62.222277548, -3.58153474))
            Line((62.222277548, -3.58153474), (63.243110881, -3.58153474))
            Line((63.243110881, -3.58153474), (63.243110881, 2.880003721))
            Line((63.243110881, 2.880003721), (64.499521138, 2.880003721))
            Line((64.499521138, 2.880003721), (64.499521138, -11.119996279))
        make_face()
        with BuildLine():
            Line((63.243110881, -9.684098843), (63.243110881, -5.017432176))
            Line((63.243110881, -5.017432176), (60.679809599, -4.997800766))
            add(Edge.make_bspline(
                [(60.679809599, -4.997800766), (60.560129428, -4.997747789), (60.328155171, -4.997645104), (59.992552716, -5.013620621), (59.680071574, -5.031792493), (59.391910885, -5.059594549), (59.127928962, -5.095403481), (58.888300168, -5.140265497), (58.672494956, -5.192310561), (58.421604389, -5.273687036), (58.138223081, -5.397054236), (57.836601799, -5.588345801), (57.572842627, -5.819684755), (57.353555996, -6.08756285), (57.177424726, -6.383355629), (57.055085869, -6.700368862), (56.974465275, -7.033607695), (56.965579678, -7.262416159), (56.961059599, -7.378810381)],
                knots=[0, 0, 0, 0, 1.146399208, 2.222048177, 3.218135709, 4.144938032, 4.994811973, 5.769438708, 6.479732432, 7.119818093, 8.294689872, 9.430121864, 10.527913442, 11.641375077, 12.733452768, 13.811150417, 14.886538365, 16, 16, 16, 16], degree=3))
            add(Edge.make_bspline(
                [(56.961059599, -7.378810381), (56.965808546, -7.491418694), (56.975219226, -7.71456728), (57.053802215, -8.040515814), (57.182115791, -8.350450089), (57.357744144, -8.640105209), (57.576332464, -8.901088562), (57.830938626, -9.123707736), (58.115571182, -9.3086534), (58.379444082, -9.430680999), (58.617022621, -9.502482228), (58.822348787, -9.554602662), (59.056372543, -9.591105452), (59.31633946, -9.624678267), (59.603391554, -9.653109297), (59.917703754, -9.671980414), (60.259051323, -9.683259712), (60.495638983, -9.683812623), (60.618110881, -9.684098843)],
                knots=[0, 0, 0, 0, 1.100596872, 2.180981401, 3.259506136, 4.371595435, 5.481727359, 6.576991111, 7.667816242, 8.793363246, 9.406619729, 10.09427138, 10.864108636, 11.721733836, 12.6590937, 13.685439239, 14.801845161, 16, 16, 16, 16], degree=3))
            Line((60.618110881, -9.684098843), (63.243110881, -9.684098843))
        make_face(mode=Mode.SUBTRACT)
    # profile 5 of 7: a face of its own
    with BuildSketch(Plane.XY.offset(4)):
        with Locations((68.179008317, -4.119996279)):
            Rectangle(CROQUIS13_W_2, CROQUIS13_H)
    # profile 6 of 7: a face of its own
    with BuildSketch(Plane.XY.offset(4)):
        Polygon((77.422598061, -11.119996279), (70.961059599, 2.880003721), (72.326844856, 2.880003721), (74.396556394, -1.607175766), (80.743110881, -1.607175766), (82.871716651, 2.880003721), (84.243110881, 2.880003721), (77.60208524, -11.119996279), align=None)
        Polygon((77.526364086, -8.391230253), (80.061620497, -3.043073202), (75.058415368, -3.043073202), align=None, mode=Mode.SUBTRACT)
    # profile 7 of 7: a face of its own
    with BuildSketch(Plane.XY.offset(4)):
        Polygon((94.653367292, -11.119996279), (93.396957035, -11.119996279), (93.396957035, -5.788666151), (87.560819215, -11.119996279), (85.768751907, -11.119996279), (92.648158958, -4.837944997), (85.230290368, 2.880003721), (86.904569215, 2.880003721), (93.396957035, -3.876005894), (93.396957035, 2.880003721), (94.653367292, 2.880003721), align=None)
    extrude(amount=-CORTAR_EXTRUIR6_DEPTH, mode=Mode.SUBTRACT)


solid = part_6.part
